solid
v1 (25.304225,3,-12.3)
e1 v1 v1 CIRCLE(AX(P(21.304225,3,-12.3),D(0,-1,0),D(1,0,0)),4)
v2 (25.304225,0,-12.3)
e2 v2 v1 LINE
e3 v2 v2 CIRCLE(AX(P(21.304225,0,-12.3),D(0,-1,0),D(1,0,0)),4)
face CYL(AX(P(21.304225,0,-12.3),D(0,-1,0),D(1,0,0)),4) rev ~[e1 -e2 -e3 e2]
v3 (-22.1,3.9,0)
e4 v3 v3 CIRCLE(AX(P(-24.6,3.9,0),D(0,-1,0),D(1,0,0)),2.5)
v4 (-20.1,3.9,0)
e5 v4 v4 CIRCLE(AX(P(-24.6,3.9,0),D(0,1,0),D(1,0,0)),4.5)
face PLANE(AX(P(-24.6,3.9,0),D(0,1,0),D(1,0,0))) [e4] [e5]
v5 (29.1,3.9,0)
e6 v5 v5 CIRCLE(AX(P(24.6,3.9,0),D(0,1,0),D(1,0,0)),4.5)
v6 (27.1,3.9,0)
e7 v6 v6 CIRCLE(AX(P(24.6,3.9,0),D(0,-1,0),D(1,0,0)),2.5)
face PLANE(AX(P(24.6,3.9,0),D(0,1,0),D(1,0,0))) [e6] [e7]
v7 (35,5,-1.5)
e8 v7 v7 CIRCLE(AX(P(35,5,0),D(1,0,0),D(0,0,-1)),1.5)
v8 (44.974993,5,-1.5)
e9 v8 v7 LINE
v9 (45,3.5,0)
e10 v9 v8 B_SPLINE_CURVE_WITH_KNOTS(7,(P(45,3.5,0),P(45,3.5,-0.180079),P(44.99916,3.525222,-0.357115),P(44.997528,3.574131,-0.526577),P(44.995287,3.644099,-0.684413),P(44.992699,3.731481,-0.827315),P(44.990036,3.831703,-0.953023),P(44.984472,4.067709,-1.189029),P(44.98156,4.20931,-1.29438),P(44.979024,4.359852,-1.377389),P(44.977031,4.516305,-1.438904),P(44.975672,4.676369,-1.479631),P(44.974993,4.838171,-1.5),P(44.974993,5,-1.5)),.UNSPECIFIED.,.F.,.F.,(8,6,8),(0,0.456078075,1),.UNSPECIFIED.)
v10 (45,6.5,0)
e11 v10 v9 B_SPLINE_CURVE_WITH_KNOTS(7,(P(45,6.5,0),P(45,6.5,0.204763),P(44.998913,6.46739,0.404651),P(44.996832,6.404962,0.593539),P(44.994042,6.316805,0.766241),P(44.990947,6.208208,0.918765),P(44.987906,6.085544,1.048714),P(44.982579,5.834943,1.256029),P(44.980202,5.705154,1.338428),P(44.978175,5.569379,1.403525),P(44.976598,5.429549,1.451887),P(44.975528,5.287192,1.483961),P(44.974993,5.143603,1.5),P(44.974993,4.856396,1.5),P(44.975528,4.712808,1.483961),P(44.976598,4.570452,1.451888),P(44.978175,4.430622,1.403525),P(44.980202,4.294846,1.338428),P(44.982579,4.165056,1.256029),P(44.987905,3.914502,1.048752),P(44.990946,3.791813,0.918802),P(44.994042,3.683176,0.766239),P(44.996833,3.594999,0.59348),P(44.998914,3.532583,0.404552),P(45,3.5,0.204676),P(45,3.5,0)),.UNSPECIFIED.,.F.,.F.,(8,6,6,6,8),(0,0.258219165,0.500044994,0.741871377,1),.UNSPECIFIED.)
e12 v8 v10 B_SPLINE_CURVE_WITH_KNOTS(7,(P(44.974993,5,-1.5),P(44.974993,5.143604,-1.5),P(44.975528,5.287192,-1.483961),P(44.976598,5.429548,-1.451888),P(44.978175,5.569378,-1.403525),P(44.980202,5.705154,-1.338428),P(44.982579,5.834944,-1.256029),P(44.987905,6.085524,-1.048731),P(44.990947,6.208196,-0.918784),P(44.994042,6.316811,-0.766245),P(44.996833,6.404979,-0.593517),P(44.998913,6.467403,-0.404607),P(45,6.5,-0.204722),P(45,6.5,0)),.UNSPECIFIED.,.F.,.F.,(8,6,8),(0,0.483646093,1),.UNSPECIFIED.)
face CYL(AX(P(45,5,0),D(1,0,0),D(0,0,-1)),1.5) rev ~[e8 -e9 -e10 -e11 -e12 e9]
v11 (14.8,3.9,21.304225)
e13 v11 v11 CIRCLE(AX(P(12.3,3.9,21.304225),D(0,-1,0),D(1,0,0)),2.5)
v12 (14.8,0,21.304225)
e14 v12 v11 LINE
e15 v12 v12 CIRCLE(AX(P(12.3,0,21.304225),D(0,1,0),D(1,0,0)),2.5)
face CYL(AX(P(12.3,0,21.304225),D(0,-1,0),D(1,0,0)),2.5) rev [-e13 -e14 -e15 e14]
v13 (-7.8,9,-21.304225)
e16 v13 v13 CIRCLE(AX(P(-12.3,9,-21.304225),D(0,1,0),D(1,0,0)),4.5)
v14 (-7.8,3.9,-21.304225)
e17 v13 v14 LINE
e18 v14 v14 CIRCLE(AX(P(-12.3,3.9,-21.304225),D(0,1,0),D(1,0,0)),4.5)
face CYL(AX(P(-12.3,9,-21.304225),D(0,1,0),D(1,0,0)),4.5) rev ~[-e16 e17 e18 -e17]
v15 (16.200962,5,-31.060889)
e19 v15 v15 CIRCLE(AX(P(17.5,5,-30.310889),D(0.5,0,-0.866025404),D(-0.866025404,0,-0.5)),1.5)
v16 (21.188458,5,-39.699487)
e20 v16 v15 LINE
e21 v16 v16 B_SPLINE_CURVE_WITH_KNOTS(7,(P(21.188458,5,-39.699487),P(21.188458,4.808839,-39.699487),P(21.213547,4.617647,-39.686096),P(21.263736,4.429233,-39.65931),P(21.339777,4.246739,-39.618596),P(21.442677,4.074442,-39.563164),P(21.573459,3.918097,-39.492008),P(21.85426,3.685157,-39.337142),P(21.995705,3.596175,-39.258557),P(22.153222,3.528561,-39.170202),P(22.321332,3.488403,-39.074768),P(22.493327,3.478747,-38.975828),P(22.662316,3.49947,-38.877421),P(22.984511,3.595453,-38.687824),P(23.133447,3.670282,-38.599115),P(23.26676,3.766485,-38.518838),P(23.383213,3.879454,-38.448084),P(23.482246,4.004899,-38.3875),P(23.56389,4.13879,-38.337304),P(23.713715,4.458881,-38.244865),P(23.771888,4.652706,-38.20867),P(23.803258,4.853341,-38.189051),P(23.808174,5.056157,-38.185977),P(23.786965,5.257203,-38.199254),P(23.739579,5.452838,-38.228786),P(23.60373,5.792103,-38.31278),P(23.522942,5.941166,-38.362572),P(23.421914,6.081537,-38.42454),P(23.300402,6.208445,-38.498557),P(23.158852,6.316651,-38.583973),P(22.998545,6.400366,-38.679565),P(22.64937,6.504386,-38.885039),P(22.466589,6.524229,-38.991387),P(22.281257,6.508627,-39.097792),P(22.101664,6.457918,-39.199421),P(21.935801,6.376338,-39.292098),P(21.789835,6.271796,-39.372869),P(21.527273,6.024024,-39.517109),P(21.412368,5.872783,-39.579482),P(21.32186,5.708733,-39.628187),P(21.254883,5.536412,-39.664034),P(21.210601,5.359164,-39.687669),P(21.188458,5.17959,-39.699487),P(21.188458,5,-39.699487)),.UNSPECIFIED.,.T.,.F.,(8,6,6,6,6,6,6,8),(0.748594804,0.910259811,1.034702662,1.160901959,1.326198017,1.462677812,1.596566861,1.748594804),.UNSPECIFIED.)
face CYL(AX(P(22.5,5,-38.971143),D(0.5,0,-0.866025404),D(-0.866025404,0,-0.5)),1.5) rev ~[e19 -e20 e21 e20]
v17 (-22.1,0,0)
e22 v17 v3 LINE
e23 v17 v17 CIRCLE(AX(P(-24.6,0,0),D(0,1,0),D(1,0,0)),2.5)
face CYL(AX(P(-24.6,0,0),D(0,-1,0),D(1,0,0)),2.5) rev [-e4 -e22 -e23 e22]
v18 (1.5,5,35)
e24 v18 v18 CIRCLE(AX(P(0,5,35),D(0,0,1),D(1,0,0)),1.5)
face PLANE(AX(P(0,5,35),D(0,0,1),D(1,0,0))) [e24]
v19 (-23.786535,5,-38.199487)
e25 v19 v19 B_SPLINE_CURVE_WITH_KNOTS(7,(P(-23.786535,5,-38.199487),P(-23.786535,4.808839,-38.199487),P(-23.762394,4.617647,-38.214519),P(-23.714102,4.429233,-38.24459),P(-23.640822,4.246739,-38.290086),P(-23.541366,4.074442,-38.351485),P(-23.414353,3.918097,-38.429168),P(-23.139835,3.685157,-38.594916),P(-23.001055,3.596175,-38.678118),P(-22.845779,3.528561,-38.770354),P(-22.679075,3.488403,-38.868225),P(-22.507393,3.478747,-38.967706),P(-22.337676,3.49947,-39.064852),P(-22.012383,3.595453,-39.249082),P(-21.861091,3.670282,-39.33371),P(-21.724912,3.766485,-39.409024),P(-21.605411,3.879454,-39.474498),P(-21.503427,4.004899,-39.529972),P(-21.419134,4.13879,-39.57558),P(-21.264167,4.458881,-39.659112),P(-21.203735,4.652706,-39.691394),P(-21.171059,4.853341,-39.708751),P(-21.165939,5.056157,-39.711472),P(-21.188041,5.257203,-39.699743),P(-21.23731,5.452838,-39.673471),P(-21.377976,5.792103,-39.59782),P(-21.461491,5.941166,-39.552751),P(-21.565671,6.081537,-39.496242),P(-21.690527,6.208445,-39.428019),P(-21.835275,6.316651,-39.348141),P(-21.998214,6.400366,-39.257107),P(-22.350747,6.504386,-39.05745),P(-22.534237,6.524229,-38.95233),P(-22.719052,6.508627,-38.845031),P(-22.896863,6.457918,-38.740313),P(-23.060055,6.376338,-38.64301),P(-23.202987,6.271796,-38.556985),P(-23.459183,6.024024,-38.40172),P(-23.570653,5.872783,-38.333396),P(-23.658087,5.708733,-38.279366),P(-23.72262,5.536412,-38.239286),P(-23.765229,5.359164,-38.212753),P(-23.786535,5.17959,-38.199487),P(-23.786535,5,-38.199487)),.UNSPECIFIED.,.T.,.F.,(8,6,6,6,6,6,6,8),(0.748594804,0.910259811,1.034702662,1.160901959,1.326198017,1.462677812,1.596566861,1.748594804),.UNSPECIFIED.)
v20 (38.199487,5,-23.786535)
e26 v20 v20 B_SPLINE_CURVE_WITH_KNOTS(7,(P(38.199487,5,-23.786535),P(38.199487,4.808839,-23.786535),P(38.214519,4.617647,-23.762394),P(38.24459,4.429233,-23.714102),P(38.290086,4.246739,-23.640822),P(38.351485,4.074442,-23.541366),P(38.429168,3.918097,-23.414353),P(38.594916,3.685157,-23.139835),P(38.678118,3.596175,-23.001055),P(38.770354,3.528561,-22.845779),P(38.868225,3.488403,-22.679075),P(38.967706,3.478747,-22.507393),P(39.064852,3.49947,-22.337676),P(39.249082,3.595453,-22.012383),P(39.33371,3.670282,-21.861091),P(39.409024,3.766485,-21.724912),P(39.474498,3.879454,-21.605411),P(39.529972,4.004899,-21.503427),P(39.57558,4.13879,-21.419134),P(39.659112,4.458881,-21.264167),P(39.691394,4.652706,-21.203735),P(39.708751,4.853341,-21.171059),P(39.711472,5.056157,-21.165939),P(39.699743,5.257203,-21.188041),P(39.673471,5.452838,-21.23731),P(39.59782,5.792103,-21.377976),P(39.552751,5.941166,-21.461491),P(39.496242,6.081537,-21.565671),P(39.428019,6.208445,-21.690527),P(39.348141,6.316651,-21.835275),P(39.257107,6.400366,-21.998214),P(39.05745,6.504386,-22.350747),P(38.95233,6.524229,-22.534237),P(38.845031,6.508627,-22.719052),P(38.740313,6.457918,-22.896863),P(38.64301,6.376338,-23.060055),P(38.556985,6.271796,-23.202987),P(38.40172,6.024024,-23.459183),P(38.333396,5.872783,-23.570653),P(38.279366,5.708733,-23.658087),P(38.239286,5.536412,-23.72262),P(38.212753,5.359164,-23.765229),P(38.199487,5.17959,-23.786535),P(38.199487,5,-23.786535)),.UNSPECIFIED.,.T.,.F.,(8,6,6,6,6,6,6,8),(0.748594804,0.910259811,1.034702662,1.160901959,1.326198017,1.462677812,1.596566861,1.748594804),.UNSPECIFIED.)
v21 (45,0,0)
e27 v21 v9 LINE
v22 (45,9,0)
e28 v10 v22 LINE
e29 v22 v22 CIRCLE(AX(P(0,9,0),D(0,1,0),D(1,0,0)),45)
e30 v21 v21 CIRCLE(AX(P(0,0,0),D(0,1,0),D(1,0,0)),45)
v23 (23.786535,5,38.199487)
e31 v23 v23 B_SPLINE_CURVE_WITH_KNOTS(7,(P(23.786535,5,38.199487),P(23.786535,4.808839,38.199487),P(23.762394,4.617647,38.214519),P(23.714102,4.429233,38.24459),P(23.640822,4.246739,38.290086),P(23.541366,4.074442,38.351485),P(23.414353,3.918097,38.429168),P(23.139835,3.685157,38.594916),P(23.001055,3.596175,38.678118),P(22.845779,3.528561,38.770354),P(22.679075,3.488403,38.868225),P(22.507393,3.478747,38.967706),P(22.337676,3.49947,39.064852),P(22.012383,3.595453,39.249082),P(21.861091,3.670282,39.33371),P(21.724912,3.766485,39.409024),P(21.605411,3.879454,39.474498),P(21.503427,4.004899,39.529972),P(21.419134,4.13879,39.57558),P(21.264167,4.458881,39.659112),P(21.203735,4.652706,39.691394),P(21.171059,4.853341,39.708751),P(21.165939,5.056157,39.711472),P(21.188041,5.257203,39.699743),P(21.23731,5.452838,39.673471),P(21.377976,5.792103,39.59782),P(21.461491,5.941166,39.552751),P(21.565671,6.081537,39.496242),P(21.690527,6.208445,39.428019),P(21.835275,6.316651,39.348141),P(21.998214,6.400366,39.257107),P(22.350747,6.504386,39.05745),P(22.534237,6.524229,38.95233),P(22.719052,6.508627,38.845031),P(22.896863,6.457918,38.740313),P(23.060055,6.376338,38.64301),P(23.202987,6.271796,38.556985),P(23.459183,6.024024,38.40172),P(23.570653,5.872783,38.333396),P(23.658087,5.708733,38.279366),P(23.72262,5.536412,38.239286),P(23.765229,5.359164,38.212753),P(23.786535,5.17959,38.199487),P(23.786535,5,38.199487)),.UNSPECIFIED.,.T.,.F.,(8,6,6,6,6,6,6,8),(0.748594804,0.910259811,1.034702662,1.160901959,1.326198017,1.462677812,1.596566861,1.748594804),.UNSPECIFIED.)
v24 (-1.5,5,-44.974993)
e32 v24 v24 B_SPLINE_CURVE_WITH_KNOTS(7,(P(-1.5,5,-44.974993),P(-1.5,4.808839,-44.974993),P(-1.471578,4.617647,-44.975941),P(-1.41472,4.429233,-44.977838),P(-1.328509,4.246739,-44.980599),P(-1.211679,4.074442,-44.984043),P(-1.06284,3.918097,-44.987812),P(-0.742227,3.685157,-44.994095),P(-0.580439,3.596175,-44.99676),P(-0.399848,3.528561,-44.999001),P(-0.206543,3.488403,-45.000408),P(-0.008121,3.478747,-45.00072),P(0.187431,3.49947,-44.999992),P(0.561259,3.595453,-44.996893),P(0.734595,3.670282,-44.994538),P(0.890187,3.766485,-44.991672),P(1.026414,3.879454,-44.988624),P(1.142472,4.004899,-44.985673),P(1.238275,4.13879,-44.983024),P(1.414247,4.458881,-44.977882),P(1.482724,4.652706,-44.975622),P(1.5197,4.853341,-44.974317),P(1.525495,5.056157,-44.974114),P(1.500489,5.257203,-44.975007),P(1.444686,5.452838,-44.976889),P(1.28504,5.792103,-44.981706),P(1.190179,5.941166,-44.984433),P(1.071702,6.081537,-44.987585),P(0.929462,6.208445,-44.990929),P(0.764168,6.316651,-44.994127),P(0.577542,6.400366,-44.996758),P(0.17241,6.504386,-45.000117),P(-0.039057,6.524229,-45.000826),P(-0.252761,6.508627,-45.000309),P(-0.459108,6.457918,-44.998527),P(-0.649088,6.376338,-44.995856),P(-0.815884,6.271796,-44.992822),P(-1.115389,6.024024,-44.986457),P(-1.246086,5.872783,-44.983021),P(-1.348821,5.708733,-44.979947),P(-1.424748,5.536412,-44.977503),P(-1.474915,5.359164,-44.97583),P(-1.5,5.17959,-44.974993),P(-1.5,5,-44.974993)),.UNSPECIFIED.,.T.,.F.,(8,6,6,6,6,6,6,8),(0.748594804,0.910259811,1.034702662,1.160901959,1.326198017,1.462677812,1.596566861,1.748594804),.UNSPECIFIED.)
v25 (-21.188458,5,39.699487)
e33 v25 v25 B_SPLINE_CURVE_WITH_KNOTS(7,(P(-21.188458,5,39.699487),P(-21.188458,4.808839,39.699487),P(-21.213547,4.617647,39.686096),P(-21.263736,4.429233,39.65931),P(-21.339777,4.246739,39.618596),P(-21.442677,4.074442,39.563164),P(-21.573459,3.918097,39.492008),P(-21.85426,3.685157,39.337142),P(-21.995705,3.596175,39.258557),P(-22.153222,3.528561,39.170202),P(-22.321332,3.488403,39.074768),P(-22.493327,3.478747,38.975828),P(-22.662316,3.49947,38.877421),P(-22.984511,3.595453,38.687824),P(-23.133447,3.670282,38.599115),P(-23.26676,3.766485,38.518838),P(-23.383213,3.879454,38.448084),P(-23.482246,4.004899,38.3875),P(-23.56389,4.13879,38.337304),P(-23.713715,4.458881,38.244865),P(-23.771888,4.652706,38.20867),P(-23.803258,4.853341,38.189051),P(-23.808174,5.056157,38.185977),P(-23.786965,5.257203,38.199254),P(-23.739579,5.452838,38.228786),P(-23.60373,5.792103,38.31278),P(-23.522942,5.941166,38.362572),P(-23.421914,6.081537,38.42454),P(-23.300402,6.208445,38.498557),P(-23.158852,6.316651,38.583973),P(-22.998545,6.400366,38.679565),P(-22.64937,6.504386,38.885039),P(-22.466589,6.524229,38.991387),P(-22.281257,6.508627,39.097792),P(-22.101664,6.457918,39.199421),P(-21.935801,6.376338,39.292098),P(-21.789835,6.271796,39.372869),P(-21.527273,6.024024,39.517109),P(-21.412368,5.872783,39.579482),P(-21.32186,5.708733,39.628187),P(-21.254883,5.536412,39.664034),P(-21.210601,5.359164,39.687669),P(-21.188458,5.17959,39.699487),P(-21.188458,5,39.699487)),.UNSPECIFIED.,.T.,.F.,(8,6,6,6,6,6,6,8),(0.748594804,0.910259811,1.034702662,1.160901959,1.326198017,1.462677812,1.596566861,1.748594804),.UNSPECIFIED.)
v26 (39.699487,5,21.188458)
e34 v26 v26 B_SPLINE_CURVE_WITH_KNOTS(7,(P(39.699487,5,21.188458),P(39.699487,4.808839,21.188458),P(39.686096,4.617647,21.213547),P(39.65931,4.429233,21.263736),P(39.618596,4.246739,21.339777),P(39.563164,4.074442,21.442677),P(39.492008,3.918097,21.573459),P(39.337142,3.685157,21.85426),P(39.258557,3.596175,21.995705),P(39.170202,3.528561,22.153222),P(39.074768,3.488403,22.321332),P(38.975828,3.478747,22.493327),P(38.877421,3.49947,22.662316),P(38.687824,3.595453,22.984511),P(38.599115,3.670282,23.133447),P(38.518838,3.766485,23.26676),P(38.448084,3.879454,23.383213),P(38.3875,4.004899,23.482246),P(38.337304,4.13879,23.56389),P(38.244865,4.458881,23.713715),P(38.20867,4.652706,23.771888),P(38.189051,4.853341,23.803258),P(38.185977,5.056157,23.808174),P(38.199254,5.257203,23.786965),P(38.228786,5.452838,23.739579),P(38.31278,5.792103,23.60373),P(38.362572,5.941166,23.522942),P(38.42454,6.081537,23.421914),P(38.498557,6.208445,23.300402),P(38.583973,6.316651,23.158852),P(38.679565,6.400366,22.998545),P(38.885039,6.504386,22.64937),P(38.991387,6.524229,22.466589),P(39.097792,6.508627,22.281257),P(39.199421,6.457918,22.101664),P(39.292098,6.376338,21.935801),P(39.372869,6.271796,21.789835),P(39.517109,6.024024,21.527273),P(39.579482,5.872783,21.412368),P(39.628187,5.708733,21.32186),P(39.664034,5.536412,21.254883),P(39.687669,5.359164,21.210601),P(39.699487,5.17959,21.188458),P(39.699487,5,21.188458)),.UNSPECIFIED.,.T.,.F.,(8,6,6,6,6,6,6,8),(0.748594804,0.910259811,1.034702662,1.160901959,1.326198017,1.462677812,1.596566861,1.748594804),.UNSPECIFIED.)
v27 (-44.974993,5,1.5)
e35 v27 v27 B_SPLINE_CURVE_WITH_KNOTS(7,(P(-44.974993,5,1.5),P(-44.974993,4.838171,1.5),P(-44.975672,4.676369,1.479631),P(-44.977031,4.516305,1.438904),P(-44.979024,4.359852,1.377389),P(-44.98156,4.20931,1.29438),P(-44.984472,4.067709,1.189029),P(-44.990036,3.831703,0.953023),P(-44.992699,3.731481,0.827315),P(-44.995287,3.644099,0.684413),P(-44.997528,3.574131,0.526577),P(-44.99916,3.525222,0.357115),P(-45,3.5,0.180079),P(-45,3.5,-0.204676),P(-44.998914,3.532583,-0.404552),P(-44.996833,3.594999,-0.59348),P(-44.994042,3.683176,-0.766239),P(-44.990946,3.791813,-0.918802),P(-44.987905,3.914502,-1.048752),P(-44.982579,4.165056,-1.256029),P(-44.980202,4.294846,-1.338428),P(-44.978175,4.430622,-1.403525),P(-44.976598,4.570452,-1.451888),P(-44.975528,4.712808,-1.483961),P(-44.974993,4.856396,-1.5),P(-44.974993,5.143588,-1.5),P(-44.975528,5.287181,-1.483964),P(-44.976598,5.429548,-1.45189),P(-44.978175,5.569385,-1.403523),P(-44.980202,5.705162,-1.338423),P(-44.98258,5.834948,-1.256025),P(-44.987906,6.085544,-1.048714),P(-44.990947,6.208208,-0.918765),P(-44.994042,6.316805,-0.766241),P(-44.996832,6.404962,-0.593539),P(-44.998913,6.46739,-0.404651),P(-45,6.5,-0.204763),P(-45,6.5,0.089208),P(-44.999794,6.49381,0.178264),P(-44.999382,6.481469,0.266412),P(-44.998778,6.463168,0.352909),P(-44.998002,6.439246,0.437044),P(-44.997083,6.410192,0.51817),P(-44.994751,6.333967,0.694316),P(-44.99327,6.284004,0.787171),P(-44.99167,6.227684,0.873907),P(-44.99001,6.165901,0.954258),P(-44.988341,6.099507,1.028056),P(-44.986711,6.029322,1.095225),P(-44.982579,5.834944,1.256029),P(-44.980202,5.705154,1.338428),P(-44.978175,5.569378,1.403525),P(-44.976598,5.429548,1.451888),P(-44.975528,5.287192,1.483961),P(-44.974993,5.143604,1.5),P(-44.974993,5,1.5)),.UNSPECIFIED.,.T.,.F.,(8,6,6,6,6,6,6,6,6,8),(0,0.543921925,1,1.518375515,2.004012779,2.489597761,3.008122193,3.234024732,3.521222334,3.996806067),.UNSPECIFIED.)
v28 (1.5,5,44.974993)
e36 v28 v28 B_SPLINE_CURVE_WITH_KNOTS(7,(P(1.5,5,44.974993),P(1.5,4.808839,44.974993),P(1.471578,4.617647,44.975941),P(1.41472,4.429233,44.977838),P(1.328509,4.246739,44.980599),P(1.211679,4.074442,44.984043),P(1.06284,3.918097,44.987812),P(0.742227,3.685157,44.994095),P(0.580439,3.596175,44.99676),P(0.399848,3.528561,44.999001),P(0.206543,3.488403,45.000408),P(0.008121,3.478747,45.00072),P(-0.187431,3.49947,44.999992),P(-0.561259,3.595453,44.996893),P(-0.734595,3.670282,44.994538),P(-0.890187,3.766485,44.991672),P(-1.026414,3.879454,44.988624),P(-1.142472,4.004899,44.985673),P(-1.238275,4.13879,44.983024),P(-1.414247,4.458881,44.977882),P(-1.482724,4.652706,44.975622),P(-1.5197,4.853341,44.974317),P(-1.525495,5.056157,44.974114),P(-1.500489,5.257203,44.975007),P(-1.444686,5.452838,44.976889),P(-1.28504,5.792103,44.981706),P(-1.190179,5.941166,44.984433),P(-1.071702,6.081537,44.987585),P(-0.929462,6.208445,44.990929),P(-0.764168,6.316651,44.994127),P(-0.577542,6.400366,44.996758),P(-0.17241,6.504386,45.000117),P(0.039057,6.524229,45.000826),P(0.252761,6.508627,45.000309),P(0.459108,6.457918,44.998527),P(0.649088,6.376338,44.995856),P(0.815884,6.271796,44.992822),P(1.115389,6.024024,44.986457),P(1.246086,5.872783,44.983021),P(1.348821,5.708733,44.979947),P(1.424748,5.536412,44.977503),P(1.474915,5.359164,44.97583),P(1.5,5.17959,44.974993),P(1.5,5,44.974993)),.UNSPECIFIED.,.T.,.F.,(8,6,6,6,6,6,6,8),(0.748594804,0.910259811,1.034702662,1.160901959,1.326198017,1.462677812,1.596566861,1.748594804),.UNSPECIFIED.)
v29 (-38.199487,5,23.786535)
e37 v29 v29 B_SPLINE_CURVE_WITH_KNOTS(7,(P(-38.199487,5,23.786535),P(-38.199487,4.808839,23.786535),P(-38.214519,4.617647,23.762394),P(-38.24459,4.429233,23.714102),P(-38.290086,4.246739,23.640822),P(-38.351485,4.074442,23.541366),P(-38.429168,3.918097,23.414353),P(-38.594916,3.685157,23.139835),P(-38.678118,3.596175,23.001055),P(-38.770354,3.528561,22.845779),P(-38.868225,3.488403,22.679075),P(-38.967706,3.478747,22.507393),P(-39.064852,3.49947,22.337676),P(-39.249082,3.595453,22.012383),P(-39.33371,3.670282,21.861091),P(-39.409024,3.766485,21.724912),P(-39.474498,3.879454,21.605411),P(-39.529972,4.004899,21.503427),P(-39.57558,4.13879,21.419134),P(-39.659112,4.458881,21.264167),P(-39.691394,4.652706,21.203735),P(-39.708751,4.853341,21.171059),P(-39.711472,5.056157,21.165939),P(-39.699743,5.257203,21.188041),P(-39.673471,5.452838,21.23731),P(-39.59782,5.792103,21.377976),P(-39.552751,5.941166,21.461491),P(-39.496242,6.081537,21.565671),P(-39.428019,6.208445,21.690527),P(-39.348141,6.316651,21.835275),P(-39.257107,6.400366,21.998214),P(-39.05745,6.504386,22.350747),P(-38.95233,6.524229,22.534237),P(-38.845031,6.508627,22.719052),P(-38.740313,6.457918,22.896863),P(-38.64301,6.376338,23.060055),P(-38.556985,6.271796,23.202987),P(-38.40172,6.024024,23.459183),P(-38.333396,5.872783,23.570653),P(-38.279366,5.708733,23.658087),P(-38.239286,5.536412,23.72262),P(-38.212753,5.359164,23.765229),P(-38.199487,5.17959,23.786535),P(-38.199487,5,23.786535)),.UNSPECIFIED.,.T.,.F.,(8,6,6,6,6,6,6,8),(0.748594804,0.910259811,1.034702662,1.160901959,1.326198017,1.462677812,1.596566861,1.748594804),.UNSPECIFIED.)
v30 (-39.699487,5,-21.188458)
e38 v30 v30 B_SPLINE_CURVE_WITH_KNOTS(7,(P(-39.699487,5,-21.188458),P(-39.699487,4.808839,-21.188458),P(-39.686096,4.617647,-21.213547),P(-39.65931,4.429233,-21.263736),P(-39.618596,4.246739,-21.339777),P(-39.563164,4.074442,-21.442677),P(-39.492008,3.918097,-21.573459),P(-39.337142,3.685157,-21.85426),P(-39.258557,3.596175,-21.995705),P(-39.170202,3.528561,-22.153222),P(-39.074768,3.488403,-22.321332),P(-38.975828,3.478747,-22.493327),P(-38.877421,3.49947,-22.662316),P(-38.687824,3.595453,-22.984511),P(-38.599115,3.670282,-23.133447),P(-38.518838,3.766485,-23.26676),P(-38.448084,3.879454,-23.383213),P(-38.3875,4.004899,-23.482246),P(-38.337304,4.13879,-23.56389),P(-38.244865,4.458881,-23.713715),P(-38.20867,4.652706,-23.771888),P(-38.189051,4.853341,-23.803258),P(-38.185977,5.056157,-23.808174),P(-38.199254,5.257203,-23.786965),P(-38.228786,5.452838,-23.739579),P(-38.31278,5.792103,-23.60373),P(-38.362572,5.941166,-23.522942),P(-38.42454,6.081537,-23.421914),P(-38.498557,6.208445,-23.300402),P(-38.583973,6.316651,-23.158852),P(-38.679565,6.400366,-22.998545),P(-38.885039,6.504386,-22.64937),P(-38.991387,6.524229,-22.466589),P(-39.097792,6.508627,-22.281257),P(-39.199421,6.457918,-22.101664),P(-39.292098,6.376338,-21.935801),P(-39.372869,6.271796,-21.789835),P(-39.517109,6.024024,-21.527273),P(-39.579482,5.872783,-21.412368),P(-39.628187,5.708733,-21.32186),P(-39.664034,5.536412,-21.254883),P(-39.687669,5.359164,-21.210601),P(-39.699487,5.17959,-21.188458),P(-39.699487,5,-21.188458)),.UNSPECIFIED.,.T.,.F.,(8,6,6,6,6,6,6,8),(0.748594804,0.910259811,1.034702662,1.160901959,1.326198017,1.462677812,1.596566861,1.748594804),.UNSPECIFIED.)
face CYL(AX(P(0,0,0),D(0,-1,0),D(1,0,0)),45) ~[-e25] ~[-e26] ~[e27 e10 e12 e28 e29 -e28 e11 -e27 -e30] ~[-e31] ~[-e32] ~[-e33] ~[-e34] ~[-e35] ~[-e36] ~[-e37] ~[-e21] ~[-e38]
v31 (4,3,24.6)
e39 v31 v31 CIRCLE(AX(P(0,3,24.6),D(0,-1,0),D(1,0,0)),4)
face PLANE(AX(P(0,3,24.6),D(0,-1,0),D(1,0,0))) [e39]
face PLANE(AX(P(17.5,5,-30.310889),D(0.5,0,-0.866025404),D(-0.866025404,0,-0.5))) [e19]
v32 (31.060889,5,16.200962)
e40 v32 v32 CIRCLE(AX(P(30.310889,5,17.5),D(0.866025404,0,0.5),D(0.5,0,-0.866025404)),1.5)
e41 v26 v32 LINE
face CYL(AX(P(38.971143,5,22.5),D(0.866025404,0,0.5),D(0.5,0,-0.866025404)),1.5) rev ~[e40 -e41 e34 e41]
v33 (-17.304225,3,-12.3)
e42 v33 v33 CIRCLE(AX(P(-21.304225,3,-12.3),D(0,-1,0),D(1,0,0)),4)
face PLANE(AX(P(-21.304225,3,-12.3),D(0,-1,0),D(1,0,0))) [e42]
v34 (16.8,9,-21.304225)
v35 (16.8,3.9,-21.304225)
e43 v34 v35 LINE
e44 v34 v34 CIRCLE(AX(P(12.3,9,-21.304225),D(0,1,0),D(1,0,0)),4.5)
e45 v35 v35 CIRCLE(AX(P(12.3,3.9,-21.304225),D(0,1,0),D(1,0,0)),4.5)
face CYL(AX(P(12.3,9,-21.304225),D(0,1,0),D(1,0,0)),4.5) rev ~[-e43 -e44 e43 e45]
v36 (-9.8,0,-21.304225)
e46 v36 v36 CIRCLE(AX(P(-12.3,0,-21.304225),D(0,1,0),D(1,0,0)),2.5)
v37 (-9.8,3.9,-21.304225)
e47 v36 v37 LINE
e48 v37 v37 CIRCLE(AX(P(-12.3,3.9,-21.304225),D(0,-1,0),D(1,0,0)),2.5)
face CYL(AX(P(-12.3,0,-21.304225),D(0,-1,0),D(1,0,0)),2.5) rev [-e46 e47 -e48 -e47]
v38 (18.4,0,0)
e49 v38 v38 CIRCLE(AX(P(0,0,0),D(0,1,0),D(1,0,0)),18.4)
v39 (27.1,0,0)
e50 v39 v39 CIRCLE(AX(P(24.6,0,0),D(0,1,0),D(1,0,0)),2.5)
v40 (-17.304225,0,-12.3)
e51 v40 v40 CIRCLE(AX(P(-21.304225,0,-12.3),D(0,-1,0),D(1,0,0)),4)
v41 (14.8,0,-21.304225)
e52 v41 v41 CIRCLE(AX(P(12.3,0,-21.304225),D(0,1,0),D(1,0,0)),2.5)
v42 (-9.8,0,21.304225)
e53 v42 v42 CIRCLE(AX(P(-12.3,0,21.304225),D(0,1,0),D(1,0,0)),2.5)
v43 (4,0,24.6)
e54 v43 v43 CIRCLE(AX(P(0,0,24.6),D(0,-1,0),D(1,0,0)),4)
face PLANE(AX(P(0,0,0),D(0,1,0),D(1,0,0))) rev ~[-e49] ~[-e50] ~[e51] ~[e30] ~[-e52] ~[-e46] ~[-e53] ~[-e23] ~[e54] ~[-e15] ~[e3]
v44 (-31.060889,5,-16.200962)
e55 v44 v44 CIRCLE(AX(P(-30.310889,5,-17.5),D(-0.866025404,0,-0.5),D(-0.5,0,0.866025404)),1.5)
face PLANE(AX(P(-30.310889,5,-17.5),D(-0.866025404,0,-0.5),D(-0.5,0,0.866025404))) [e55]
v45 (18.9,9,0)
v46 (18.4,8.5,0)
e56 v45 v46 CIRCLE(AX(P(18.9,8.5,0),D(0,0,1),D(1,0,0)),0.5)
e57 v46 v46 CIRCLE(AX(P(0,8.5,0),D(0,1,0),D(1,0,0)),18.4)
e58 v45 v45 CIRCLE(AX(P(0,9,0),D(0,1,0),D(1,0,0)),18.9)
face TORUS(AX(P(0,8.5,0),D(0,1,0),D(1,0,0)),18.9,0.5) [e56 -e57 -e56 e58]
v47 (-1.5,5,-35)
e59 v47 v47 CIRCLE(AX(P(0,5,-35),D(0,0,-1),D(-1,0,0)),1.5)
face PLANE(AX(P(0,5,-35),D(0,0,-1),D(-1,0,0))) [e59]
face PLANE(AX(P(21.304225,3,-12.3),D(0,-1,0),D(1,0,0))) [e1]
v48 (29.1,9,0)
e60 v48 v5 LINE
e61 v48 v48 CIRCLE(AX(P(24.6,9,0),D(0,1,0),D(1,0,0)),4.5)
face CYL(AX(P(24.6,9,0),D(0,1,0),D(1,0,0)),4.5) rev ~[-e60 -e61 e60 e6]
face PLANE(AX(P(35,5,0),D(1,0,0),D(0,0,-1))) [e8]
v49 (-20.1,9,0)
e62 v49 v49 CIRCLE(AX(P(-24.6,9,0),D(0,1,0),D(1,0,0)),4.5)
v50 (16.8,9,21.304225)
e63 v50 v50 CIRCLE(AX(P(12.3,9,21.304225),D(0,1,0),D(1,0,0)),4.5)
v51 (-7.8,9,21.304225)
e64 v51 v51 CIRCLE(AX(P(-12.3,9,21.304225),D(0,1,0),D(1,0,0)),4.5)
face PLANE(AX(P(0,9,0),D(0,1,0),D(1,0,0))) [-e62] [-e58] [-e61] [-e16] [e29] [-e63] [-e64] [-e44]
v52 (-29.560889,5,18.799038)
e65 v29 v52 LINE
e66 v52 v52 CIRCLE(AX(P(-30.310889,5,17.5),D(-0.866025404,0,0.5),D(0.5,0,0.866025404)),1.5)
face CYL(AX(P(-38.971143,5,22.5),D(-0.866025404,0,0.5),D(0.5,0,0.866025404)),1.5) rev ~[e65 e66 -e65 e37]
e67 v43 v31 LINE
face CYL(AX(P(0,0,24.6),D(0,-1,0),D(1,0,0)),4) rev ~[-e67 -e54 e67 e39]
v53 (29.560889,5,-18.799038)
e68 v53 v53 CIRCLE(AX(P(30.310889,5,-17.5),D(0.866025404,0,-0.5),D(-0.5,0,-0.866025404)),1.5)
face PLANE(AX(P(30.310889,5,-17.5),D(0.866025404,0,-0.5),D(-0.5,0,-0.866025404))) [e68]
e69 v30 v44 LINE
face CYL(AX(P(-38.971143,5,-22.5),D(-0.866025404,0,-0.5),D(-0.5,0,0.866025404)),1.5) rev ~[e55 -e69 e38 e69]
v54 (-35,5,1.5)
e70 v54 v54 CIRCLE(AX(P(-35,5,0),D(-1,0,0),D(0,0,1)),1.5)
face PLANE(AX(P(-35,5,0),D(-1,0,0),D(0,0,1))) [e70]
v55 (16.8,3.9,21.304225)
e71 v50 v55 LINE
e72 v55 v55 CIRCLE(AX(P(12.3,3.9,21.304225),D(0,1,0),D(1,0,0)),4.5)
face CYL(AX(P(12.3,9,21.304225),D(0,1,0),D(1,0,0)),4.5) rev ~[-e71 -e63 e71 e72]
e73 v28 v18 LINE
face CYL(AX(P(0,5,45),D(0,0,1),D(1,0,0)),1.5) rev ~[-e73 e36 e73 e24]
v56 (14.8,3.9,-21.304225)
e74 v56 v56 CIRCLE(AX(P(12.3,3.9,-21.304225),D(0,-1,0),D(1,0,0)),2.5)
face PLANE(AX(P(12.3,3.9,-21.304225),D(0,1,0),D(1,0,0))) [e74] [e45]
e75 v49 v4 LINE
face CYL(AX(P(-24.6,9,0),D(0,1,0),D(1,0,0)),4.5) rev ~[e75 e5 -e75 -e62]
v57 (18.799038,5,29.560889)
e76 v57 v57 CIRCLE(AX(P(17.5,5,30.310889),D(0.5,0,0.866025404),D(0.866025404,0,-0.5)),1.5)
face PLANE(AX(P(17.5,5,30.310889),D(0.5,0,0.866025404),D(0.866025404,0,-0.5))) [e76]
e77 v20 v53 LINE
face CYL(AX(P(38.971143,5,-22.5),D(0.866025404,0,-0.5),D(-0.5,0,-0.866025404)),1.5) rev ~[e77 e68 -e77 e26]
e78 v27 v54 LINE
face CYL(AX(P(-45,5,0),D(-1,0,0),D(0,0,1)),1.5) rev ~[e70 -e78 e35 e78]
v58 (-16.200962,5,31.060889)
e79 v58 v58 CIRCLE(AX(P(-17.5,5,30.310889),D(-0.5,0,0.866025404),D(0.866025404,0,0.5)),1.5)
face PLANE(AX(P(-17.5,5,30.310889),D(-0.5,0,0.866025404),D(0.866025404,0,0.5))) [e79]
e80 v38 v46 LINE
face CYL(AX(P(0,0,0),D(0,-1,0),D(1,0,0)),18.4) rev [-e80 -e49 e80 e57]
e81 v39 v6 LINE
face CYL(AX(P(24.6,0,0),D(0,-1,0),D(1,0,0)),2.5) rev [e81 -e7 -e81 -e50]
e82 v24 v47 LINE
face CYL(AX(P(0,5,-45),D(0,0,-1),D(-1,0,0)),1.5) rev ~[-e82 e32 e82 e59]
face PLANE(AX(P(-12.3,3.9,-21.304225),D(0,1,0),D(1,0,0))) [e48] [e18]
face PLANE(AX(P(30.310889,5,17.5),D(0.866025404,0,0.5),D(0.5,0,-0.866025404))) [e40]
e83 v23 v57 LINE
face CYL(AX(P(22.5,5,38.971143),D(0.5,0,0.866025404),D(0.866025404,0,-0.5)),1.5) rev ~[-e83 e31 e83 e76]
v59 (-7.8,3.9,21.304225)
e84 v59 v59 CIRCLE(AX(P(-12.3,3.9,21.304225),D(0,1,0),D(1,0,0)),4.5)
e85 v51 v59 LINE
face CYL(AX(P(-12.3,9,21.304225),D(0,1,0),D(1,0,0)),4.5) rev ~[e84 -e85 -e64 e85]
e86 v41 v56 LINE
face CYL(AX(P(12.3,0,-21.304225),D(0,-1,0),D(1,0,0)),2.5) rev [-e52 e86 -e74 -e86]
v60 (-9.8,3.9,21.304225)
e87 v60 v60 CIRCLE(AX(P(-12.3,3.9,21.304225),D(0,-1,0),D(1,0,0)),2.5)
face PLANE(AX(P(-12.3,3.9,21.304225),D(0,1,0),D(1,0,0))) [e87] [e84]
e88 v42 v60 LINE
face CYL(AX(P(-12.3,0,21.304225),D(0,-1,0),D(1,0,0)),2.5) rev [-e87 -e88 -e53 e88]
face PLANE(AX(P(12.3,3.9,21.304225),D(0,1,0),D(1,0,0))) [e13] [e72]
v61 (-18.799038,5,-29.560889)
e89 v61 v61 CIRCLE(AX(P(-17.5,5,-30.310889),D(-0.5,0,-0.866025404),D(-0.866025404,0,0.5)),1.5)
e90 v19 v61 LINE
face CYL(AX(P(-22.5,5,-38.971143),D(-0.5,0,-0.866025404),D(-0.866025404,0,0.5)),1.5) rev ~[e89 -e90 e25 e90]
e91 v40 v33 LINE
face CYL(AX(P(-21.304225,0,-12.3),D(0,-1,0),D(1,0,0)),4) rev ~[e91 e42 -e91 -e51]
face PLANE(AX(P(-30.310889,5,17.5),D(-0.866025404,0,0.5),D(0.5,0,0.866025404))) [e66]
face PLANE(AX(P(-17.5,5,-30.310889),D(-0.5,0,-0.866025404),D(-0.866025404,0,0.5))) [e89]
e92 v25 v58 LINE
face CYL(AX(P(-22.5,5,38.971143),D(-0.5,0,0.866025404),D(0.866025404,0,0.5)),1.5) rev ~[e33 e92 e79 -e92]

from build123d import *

# Parameters (mm, degrees)
SKETCH_1_R               = 45
SKETCH_1_R_2             = 2.5
SKETCH_1_R_3             = 18.4
EXTRUDE_1_DEPTH          = 9
SKETCH_2_R               = 4
CUT_EXTRUDE_1_DEPTH      = 3
SKETCH_4_R               = 4.5
CUT_EXTRUDE_2_DEPTH      = 5.1
SKETCH_5_R               = 1.5
CUT_EXTRUDE_3_DEPTH      = 10
PATTERN_CIRCULAR_1_COUNT = 12
FILLET_1_R               = 0.5


with BuildPart() as part:
    # 草图1 → 凸台-拉伸1 (new body)
    with BuildSketch(Plane(origin=(0, 0, 0), x_dir=(1, 0, 0), z_dir=(0, 1, 0))):
        Circle(SKETCH_1_R)
        with Locations((-24.6, 0)):
            Circle(SKETCH_1_R_2, mode=Mode.SUBTRACT)
        with Locations((-12.3, 21.304224933)):
            Circle(SKETCH_1_R_2, mode=Mode.SUBTRACT)
        with Locations((12.3, 21.304224933)):
            Circle(SKETCH_1_R_2, mode=Mode.SUBTRACT)
        with Locations((24.6, 0)):
            Circle(SKETCH_1_R_2, mode=Mode.SUBTRACT)
        with Locations((12.3, -21.304224933)):
            Circle(SKETCH_1_R_2, mode=Mode.SUBTRACT)
        with Locations((-12.3, -21.304224933)):
            Circle(SKETCH_1_R_2, mode=Mode.SUBTRACT)
        Circle(SKETCH_1_R_3, mode=Mode.SUBTRACT)
    extrude(amount=EXTRUDE_1_DEPTH)

    # 草图2 → 切除-拉伸1 (cut)
    with BuildSketch(Plane.XZ):
        with Locations((-21.304224933, -12.3)):
            Circle(SKETCH_2_R)
        with Locations((0, 24.6)):
            Circle(SKETCH_2_R)
        with Locations((21.304224933, -12.3)):
            Circle(SKETCH_2_R)
    extrude(amount=-CUT_EXTRUDE_1_DEPTH, mode=Mode.SUBTRACT)

    # 草图4 → 切除-拉伸2 (cut)
    with BuildSketch(Plane(origin=(0, 9, 0), x_dir=(1, 0, 0), z_dir=(0, 1, 0))):
        with Locations((-24.6, 0)):
            Circle(SKETCH_4_R)
        with Locations((-12.3, 21.304224933)):
            Circle(SKETCH_4_R)
        with Locations((12.3, 21.304224933)):
            Circle(SKETCH_4_R)
        with Locations((24.6, 0)):
            Circle(SKETCH_4_R)
        with Locations((12.3, -21.304224933)):
            Circle(SKETCH_4_R)
        with Locations((-12.3, -21.304224933)):
            Circle(SKETCH_4_R)
    extrude(amount=-CUT_EXTRUDE_2_DEPTH, mode=Mode.SUBTRACT)

    # 草图5 → 切除-拉伸3 (cut)
    with BuildSketch(Plane(origin=(45, 0, 0), x_dir=(0, 0, -1), z_dir=(1, 0, 0))):
        with Locations((0, 5)):
            Circle(SKETCH_5_R)
    cut_extrude_3 = extrude(amount=-CUT_EXTRUDE_3_DEPTH, mode=Mode.SUBTRACT)

    # 阵列(圆周)1: 切除-拉伸3 ×12 about axis
    pattern_circular_1_axis = Axis((0, 0, 0), (0, 1, 0))
    for i in range(1, PATTERN_CIRCULAR_1_COUNT):
        add(cut_extrude_3.rotate(pattern_circular_1_axis, i * 360 / PATTERN_CIRCULAR_1_COUNT), mode=Mode.SUBTRACT)

    # 圆角1
    fillet_1_edges = [part.edges().sort_by_distance(p)[0] for p in [
        (-18.4, 9, 0),
    ]]
    fillet(fillet_1_edges, radius=FILLET_1_R)


solid = part.part
